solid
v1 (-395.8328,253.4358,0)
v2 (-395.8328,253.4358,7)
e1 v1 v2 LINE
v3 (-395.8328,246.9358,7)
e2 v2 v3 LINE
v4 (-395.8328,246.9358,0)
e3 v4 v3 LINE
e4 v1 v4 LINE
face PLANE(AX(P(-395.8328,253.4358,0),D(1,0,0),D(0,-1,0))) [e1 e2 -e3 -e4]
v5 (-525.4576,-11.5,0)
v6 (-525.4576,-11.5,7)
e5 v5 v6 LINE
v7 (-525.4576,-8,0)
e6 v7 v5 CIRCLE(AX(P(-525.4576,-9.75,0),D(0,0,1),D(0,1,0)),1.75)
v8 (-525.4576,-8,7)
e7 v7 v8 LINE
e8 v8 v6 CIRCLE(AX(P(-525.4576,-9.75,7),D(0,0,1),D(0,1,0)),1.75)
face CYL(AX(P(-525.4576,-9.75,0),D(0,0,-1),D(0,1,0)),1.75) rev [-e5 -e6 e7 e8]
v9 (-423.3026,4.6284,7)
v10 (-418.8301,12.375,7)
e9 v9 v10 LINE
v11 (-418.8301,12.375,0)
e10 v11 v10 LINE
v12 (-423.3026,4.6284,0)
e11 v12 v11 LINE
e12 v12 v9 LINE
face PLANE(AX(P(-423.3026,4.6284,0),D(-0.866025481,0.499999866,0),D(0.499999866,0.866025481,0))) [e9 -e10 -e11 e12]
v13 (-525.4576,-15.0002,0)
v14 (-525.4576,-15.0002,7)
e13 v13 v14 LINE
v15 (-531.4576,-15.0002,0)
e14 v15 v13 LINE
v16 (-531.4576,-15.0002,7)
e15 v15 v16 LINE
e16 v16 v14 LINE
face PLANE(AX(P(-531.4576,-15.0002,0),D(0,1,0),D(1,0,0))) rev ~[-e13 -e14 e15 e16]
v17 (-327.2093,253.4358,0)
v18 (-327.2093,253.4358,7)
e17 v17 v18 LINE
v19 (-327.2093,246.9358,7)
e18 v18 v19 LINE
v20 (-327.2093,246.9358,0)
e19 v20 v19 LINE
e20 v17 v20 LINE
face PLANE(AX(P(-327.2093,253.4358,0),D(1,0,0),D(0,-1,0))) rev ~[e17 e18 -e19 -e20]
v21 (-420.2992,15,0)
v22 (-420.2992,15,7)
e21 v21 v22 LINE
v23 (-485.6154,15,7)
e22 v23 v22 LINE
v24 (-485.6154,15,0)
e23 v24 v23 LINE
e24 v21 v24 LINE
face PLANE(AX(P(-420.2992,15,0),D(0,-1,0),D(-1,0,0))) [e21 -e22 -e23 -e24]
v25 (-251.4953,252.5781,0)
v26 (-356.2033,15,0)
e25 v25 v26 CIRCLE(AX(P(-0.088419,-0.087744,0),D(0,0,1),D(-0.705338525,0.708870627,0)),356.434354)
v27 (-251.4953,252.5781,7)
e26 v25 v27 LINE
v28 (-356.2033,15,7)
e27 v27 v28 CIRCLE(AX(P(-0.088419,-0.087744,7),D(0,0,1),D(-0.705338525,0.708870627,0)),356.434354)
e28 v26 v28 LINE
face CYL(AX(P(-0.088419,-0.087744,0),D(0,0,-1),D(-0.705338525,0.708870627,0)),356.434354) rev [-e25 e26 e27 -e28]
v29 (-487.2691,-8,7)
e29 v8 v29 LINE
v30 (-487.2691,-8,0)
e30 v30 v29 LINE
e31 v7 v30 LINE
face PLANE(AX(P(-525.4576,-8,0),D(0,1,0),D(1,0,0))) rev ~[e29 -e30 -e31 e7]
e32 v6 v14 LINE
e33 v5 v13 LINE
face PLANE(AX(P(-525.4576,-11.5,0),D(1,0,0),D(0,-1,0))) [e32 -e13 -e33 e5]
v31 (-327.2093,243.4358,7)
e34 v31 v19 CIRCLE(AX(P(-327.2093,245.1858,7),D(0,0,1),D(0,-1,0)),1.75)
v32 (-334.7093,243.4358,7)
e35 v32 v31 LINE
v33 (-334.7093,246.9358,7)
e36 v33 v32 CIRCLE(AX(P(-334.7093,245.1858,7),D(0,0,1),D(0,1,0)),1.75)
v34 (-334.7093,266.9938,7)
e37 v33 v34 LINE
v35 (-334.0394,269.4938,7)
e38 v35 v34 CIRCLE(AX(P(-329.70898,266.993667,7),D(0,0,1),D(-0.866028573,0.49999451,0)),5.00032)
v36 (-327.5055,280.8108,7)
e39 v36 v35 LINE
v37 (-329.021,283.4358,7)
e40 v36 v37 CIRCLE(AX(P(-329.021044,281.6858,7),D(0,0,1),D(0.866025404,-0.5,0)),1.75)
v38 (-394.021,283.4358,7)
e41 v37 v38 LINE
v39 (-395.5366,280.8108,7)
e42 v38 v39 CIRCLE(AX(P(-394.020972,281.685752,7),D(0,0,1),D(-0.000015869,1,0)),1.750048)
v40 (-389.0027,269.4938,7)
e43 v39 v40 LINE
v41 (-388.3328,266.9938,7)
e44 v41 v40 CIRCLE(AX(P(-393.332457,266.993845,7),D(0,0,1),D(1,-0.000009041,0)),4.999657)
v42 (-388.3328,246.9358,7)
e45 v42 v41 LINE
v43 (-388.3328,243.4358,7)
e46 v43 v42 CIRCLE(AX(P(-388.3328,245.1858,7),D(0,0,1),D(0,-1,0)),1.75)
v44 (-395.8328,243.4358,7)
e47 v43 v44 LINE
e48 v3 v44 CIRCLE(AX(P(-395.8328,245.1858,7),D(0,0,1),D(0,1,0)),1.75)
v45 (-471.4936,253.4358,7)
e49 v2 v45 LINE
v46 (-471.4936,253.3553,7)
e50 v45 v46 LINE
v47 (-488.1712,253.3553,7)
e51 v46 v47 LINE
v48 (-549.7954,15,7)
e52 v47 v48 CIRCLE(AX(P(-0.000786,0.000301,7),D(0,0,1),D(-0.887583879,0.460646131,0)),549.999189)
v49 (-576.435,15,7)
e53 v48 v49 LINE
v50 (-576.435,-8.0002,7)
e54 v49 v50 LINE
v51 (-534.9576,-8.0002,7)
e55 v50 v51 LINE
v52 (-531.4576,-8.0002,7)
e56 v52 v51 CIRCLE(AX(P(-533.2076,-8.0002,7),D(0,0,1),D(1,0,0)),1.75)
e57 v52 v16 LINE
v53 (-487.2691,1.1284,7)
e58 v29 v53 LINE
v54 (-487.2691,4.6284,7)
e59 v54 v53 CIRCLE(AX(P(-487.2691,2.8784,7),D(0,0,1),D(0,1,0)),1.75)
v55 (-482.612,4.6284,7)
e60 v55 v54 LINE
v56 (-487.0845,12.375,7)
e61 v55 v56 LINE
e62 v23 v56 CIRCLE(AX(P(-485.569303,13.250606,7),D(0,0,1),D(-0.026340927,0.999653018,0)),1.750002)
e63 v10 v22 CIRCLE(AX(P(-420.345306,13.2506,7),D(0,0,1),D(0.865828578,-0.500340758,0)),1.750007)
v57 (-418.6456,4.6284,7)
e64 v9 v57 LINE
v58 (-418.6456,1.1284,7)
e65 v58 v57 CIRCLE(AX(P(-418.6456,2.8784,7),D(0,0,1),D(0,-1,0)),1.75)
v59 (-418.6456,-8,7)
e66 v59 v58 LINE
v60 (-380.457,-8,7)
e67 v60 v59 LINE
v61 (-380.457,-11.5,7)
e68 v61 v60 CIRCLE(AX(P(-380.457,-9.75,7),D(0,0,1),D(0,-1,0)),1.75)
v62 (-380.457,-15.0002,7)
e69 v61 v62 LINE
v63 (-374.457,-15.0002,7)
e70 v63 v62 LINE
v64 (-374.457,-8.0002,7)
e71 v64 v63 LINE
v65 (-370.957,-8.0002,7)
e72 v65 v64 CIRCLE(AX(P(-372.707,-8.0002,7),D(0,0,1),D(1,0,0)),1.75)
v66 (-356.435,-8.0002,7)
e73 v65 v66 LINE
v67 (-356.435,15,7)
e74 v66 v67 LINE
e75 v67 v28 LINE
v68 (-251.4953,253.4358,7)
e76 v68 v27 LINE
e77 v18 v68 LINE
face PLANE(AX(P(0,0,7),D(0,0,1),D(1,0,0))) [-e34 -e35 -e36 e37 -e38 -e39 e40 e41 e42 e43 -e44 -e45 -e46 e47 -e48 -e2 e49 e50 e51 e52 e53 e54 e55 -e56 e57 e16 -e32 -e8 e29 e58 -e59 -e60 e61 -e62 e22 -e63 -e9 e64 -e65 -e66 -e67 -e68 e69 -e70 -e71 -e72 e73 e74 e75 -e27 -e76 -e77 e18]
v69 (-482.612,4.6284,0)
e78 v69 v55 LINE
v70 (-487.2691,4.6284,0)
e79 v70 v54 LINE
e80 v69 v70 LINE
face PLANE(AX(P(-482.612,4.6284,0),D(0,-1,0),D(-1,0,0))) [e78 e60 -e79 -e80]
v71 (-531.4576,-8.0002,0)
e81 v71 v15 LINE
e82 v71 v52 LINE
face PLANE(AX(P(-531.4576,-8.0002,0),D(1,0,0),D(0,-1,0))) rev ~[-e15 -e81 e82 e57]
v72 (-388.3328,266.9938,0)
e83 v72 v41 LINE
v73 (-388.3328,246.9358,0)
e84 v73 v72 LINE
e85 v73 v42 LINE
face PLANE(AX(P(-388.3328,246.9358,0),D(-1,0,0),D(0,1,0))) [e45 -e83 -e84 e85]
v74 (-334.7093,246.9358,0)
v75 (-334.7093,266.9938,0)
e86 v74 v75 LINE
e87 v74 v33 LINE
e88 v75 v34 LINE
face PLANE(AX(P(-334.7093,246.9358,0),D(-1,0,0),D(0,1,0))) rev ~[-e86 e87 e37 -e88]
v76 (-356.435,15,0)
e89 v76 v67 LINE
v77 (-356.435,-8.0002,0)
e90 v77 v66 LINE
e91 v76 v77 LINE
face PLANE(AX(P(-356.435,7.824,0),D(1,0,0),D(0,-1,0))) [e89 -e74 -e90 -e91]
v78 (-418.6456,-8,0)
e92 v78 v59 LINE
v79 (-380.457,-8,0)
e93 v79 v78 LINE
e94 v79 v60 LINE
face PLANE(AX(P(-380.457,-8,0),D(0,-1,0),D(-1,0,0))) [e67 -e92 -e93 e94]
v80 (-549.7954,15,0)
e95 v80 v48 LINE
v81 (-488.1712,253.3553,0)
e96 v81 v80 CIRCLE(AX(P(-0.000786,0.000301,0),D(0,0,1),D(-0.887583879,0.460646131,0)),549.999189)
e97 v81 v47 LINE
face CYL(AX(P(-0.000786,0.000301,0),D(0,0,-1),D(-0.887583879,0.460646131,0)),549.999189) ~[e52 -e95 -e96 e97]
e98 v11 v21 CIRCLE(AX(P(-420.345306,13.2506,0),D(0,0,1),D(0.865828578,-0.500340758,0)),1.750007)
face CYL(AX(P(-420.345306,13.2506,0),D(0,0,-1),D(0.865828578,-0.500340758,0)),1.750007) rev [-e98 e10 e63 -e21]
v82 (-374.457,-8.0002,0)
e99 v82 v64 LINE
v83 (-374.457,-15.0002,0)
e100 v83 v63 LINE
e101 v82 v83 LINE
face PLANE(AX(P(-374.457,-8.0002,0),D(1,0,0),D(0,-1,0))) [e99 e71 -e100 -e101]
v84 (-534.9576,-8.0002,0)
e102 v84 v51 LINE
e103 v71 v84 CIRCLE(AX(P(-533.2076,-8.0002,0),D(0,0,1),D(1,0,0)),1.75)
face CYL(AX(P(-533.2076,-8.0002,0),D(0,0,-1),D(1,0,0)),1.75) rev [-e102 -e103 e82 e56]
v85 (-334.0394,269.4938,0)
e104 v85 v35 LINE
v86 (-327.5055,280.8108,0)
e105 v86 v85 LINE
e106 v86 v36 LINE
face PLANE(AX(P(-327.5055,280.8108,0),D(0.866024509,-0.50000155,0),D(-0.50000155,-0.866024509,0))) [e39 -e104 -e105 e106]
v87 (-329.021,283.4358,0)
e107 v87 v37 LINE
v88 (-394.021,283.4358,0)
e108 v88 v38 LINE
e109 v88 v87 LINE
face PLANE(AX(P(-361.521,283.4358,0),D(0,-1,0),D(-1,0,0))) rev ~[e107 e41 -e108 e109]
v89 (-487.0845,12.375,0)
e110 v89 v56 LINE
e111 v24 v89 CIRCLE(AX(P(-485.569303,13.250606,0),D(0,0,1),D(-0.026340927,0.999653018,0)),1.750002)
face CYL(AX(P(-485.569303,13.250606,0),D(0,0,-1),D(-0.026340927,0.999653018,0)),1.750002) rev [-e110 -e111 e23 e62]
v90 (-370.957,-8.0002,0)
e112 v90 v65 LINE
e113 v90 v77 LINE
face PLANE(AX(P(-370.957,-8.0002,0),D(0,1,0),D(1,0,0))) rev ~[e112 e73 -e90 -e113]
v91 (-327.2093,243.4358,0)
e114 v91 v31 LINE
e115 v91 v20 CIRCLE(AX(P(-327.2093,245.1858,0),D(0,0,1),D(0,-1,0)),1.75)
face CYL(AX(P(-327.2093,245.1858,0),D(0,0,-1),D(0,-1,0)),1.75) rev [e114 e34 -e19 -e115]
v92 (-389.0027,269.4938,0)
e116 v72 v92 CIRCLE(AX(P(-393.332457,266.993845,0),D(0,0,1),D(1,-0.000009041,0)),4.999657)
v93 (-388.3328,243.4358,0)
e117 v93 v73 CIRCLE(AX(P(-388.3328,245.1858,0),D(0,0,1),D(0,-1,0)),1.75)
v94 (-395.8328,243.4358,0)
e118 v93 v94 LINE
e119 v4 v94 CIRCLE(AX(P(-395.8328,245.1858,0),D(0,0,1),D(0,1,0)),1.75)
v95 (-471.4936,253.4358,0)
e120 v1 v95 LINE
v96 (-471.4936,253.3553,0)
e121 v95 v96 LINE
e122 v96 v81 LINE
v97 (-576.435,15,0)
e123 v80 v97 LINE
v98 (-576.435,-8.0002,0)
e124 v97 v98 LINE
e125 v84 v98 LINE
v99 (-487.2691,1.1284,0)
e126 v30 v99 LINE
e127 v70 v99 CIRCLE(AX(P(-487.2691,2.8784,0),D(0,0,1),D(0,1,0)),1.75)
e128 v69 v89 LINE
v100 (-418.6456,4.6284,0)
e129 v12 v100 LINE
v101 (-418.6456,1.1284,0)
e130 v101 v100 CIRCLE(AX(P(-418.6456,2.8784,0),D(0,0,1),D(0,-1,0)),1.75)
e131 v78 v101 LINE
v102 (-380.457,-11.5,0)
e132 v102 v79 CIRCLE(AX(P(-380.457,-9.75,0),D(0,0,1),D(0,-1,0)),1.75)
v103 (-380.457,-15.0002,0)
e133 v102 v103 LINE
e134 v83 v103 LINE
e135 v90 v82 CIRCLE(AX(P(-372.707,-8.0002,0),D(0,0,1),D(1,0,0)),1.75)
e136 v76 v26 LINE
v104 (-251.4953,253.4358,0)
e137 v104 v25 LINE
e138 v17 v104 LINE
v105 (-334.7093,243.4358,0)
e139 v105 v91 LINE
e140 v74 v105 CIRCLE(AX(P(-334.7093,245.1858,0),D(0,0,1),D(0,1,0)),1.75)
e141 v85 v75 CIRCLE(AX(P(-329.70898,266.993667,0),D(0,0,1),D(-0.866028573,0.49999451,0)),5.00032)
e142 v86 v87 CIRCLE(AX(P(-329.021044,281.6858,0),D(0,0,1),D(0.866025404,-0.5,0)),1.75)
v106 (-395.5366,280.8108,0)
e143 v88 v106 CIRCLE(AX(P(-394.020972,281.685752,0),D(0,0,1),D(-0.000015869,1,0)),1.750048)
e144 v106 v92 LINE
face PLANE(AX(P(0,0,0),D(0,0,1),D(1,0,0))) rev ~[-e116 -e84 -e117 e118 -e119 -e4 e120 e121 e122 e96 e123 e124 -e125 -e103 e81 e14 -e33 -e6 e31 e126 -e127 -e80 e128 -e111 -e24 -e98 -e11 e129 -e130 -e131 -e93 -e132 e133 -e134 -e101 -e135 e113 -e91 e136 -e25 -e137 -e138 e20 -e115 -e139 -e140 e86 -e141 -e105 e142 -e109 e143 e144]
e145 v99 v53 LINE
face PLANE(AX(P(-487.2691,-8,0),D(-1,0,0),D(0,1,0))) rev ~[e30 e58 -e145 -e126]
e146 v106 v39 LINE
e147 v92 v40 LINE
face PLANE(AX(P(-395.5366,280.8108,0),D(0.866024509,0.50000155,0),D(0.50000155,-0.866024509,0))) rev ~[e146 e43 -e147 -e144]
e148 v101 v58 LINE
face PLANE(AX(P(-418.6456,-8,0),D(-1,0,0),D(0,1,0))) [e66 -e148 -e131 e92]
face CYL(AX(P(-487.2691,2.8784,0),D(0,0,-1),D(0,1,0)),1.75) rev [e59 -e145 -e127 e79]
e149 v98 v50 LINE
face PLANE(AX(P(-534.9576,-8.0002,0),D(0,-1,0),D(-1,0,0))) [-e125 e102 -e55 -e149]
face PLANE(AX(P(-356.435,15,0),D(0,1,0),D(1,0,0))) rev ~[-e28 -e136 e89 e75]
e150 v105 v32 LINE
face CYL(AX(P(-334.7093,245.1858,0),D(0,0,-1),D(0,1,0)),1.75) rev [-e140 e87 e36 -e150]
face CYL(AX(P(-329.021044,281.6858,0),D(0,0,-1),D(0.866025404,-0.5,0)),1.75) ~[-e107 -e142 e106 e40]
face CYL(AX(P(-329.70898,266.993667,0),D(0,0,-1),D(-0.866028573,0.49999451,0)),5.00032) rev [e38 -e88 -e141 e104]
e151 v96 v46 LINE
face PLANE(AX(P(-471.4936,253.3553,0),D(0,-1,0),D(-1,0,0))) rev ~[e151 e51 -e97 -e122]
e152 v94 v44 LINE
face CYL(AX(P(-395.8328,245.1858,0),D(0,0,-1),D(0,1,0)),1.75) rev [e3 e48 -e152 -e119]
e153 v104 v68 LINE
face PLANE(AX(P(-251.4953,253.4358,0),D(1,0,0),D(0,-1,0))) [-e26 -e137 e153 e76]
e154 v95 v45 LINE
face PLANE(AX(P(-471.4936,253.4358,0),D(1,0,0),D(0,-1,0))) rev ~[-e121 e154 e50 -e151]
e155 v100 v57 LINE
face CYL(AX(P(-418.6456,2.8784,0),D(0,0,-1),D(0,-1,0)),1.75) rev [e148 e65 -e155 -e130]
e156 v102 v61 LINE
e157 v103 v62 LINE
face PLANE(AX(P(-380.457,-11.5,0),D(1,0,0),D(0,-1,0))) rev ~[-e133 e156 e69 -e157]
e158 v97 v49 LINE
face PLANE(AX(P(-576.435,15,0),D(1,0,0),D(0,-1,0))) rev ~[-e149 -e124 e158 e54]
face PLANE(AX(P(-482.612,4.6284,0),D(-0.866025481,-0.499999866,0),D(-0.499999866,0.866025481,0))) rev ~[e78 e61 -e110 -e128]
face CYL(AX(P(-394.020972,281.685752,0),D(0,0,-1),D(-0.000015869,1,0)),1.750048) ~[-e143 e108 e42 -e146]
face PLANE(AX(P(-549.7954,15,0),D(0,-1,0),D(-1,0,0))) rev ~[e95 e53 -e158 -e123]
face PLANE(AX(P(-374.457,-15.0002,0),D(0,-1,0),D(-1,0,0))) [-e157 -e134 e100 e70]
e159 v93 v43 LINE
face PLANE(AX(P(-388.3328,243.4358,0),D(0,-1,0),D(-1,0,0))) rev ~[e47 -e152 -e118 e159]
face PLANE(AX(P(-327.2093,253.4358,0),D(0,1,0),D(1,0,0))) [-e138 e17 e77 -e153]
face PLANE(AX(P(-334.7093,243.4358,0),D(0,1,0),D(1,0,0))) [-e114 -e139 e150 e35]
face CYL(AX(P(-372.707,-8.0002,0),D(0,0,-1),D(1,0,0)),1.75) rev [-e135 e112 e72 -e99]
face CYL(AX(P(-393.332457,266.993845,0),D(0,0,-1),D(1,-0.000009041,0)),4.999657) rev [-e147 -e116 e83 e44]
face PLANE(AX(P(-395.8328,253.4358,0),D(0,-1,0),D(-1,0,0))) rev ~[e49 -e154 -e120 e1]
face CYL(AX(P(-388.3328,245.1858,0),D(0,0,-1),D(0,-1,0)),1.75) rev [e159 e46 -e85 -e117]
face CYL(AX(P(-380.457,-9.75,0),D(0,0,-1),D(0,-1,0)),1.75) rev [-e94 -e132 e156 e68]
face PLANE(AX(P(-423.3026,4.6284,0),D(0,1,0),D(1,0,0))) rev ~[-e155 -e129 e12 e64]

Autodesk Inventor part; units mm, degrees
ref_plane "YZ Plane" through (0, 0, 0) normal (1, 0, 0) x (0, 1, 0)
ref_plane "XZ Plane" through (0, 0, 0) normal (0, 1, 0) x (-1, 0, 0)
ref_plane "XY Plane" through (0, 0, 0) normal (0, 0, 1) x (1, 0, 0)
sketch "Sketch1" plane through (0, 0, 0) normal (0, 0, 1) x (1, 0, 0)
  arc A0 (0, 550) -> (-200, 512.3475) centre (0, 0) ccw construction
  line L0 (-150, -512.4764) -> (-150, -323.4644) construction
  line L1 (-472.3938, -281.6809) -> (-252.3938, -281.6809) construction
  line L2 (-489.0365, 251.6809) -> (-252.3938, 251.6809) construction
  line L3 (-150.0879, 323.2475) -> (-150.0879, 512.2595) construction
  line L4 (-472.3938, 281.6809) -> (-252.3938, 281.6809) construction
  line L5 (-472.3938, -251.6809) -> (-252.3938, -251.6809) construction
  line L6 (-356.435, 15) -> (-576.435, 15) construction
  line L7 (-472.3938, -281.6809) -> (-472.3938, -251.6809) construction
  line L8 (-252.3938, -281.6809) -> (-252.3938, -251.6809) construction
  line L9 (-252.3938, 281.6809) -> (-252.3938, 251.6809) construction
  line L10 (-472.3938, 281.6809) -> (-472.3938, 251.6809) construction
  line L11 (-356.435, 15) -> (-356.435, -15) construction
  line L12 (-356.435, -15) -> (-576.435, -15) construction
  line L13 (-576.435, -15) -> (-576.435, 15) construction
  arc A1 (-0.0879, 356.3469) -> (-150.0879, 323.2475) centre (-0.0879, -0.0881) ccw construction
  arc A2 (-150, -323.4644) -> (-1.4799, -356.5203) centre (-0.0879, -0.0881) ccw construction
  arc A3 (-156.5047, -512.4764) -> (-160, -512.3475) centre (-158.25, -512.3475) ccw construction
  arc A4 (-190, -512.3475) -> (-193.5, -512.3475) centre (-191.75, -512.3475) ccw construction
  line L14 (-178.75, -519.0975) -> (-175, -519.0975) construction
  line L15 (-178.75, -529.0975) -> (-175, -529.0975) construction
  line L16 (-175, -519.0975) -> (-175, -529.0975) construction
  arc A5 (-178.75, -519.0975) -> (-178.75, -522.5975) centre (-178.75, -520.8475) ccw construction
  arc A6 (-178.75, -525.5975) -> (-178.75, -529.0975) centre (-178.75, -527.3475) ccw construction
  line L17 (-171.25, -519.0975) -> (-175, -519.0975) construction
  line L18 (-171.25, -529.0975) -> (-175, -529.0975) construction
  arc A7 (-171.25, -522.5975) -> (-171.25, -519.0975) centre (-171.25, -520.8475) ccw construction
  arc A8 (-171.25, -529.0975) -> (-171.25, -525.5975) centre (-171.25, -527.3475) ccw construction
  line L19 (-252.3938, 251.6809) -> (-489.0365, 251.6809) construction
  arc A9 (-192.6667, 512.3475) -> (-190, 512.3475) centre (-191.3333, 512.3475) ccw construction
  line L20 (-157.3333, 512.3475) -> (-150, 512.3475) construction
  line L21 (-192.6667, 512.3475) -> (-200, 512.3475) construction
  arc A10 (-160, 512.3475) -> (-157.3333, 512.3475) centre (-158.6667, 512.3475) ccw construction
  line L22 (-171.25, 517.8475) -> (-175, 517.8475) construction
  line L23 (-171.25, 520.5142) -> (-171.25, 525.1809) construction
  line L24 (-161.3333, 532.3475) -> (-188.6667, 532.3475) construction
  line L25 (-190, 531.0142) -> (-190, 512.3475) construction
  line L26 (-160, 531.0142) -> (-160, 512.3475) construction
  arc A11 (-160, 531.0142) -> (-161.3333, 532.3475) centre (-161.3333, 531.0142) ccw construction
  arc A12 (-188.6667, 532.3475) -> (-190, 531.0142) centre (-188.6667, 531.0142) ccw construction
  line L27 (-171.25, 527.8475) -> (-175, 527.8475) construction
  line L28 (-175, 532.3475) -> (-175, 535.9358) construction
  line L29 (-175, 517.8475) -> (-175, 527.8475) construction
  arc A13 (-171.25, 517.8475) -> (-171.25, 520.5142) centre (-171.25, 519.1809) ccw construction
  arc A14 (-171.25, 525.1809) -> (-171.25, 527.8475) centre (-171.25, 526.5142) ccw construction
  line L30 (-178.75, 517.8475) -> (-175, 517.8475) construction
  arc A15 (-178.75, 520.5142) -> (-178.75, 517.8475) centre (-178.75, 519.1809) ccw construction
  line L31 (-178.75, 520.5142) -> (-178.75, 525.1809) construction
  arc A16 (-178.75, 527.8475) -> (-178.75, 525.1809) centre (-178.75, 526.5142) ccw construction
  line L32 (-178.75, 527.8475) -> (-175, 527.8475) construction
  arc A17 (-334.9122, -265.623) -> (-335.582, -268.123) centre (-330.582, -268.123) ccw construction
  line L33 (-328.3782, -254.3059) -> (-334.9122, -265.623) construction
  arc A18 (-328.3782, -254.3059) -> (-329.8938, -251.6809) centre (-329.8938, -253.4309) ccw construction
  line L34 (-329.8938, -251.6809) -> (-394.8938, -251.6809) construction
  line L35 (-362.3938, -251.6809) -> (-362.3938, -293.6041) construction
  arc A19 (-389.2055, -268.123) -> (-389.8754, -265.623) centre (-394.2055, -268.123) ccw construction
  arc A20 (-394.8938, -251.6809) -> (-396.4093, -254.3059) centre (-394.8938, -253.4309) ccw construction
  line L36 (-396.4093, -254.3059) -> (-389.8754, -265.623) construction
  arc A21 (-389.2055, -291.6809) -> (-389.2055, -288.1809) centre (-389.2055, -289.9309) ccw construction
  line L37 (-389.2055, -291.6809) -> (-396.7055, -291.6809) construction
  line L38 (-396.7055, -281.6809) -> (-472.3938, -281.6809) construction
  line L39 (-328.082, -281.6809) -> (-252.3938, -281.6809) construction
  line L40 (-252.4816, -287.4356) -> (-210.9842, -287.4356) construction
  arc A22 (-150.0879, 323.2475) -> (-250.6303, 253.4358) centre (-0.0879, -0.0881) ccw construction
  arc A23 (-210.9842, -287.4356) -> (-150, -323.4644) centre (-0.0879, -0.0881) ccw construction
  arc A24 (-200, 512.3475) -> (-491.4496, 246.9358) centre (0, 0) ccw construction
  arc A25 (-472.3938, -281.6809) -> (-246.475, -491.6809) centre (0, 0) ccw construction
  line L41 (-171.25, -436.2204) -> (-171.25, -399.7204) construction
  line L42 (-178.75, -436.2204) -> (-178.75, -399.7204) construction
  line L43 (-177, -437.9704) -> (-173, -437.9704) construction
  line L44 (-177, -397.9704) -> (-173, -397.9704) construction
  arc A26 (-177, -397.9704) -> (-178.75, -399.7204) centre (-177, -399.7204) ccw construction
  arc A27 (-178.75, -436.2204) -> (-177, -437.9704) centre (-177, -436.2204) ccw construction
  arc A28 (-173, -437.9704) -> (-171.25, -436.2204) centre (-173, -436.2204) ccw construction
  arc A29 (-171.25, -399.7204) -> (-173, -397.9704) centre (-173, -399.7204) ccw construction
  line L45 (-200, -512.3475) -> (-200, -491.6809) construction
  arc A30 (-200, -491.6809) -> (-203.5, -491.6809) centre (-201.75, -491.6809) ccw construction
  line L46 (-160, -512.3475) -> (-160, -532.5975) construction
  line L47 (-161.75, -534.3475) -> (-188.25, -534.3475) construction
  line L48 (-190, -532.5975) -> (-190, -512.3475) construction
  line L49 (-171.25, -522.5975) -> (-171.25, -525.5975) construction
  line L50 (-178.75, -522.5975) -> (-178.75, -525.5975) construction
  arc A31 (-190, -532.5975) -> (-188.25, -534.3475) centre (-188.25, -532.5975) ccw construction
  arc A32 (-161.75, -534.3475) -> (-160, -532.5975) centre (-161.75, -532.5975) ccw construction
  line L51 (-156.5047, -512.4764) -> (-150, -512.4764) construction
  line L52 (-193.5, -512.3475) -> (-200, -512.3475) construction
  line L53 (-203.5, -491.6809) -> (-246.475, -491.6809) construction
  arc A33 (-396.7055, -288.1809) -> (-396.7055, -291.6809) centre (-396.7055, -289.9309) ccw construction
  line L54 (-396.7055, -281.6809) -> (-396.7055, -288.1809) construction
  line L55 (-389.2055, -288.1809) -> (-389.2055, -268.123) construction
  arc A34 (-335.582, -288.1809) -> (-335.582, -291.6809) centre (-335.582, -289.9309) ccw construction
  line L56 (-335.582, -291.6809) -> (-328.082, -291.6809) construction
  arc A35 (-328.082, -291.6809) -> (-328.082, -288.1809) centre (-328.082, -289.9309) ccw construction
  line L57 (-328.082, -281.6809) -> (-328.082, -288.1809) construction
  line L58 (-335.582, -288.1809) -> (-335.582, -268.123) construction
  arc A36 (-252.3938, -283.9378) -> (-252.4816, -287.4356) centre (-252.4816, -285.6856) ccw construction
  line L59 (-252.3938, -283.9378) -> (-252.3938, -281.6809) construction
  arc A37 (-479.7691, -25) -> (-479.7691, -21.5) centre (-479.7691, -23.25) ccw construction
  arc A38 (-479.7691, -1.4421) -> (-480.4389, 1.0579) centre (-484.7691, -1.4421) ccw construction
  line L60 (-486.9729, 12.375) -> (-480.4389, 1.0579) construction
  arc A39 (-485.4573, 15) -> (-486.9729, 12.375) centre (-485.4573, 13.25) ccw construction
  line L61 (-420.4573, 15) -> (-485.4573, 15) construction
  arc A40 (-425.4757, 1.0579) -> (-426.1456, -1.4421) centre (-421.1456, -1.4421) ccw construction
  arc A41 (-418.9418, 12.375) -> (-420.4573, 15) centre (-420.4573, 13.25) ccw construction
  line L62 (-418.9418, 12.375) -> (-425.4757, 1.0579) construction
  line L63 (-452.9573, 15) -> (-452.9573, -26.9232) construction
  line L64 (-479.7691, -25) -> (-487.2691, -25) construction
  line L65 (-487.2691, -15) -> (-549.7954, -15) construction
  arc A42 (-487.2691, -21.5) -> (-487.2691, -25) centre (-487.2691, -23.25) ccw construction
  line L66 (-487.2691, -15) -> (-487.2691, -21.5) construction
  line L67 (-479.7691, -21.5) -> (-479.7691, -1.4421) construction
  line L68 (-426.1456, -21.5) -> (-426.1456, -1.4421) construction
  arc A43 (-426.1456, -21.5) -> (-426.1456, -25) centre (-426.1456, -23.25) ccw construction
  line L69 (-426.1456, -25) -> (-418.6456, -25) construction
  arc A44 (-418.6456, -25) -> (-418.6456, -21.5) centre (-418.6456, -23.25) ccw construction
  line L70 (-418.6456, -15) -> (-418.6456, -21.5) construction
  line L71 (276.2049, -135.3556) -> (280.6774, -127.609)
  line L72 (279.2083, -124.984) -> (246.5502, -124.984)
  arc A45 (319.0505, -151.484) -> (319.0505, -147.984) centre (319.0505, -149.734) ccw
  arc A46 (328.5505, -147.9841) -> (325.0505, -147.9841) centre (326.8005, -147.9841) ccw
  line L73 (319.0505, -147.984) -> (280.8619, -147.984)
  arc A47 (214.0502, -164.7817) -> (212.5346, -167.4067) centre (214.0502, -166.5317) ccw
  arc A48 (280.5657, -167.4067) -> (279.0502, -164.7817) centre (279.0502, -166.5317) ccw
  arc A49 (274.0318, -178.7238) -> (273.3619, -181.2238) centre (278.3619, -181.2238) ccw
  line L74 (280.5657, -167.4067) -> (274.0318, -178.7238)
  line L75 (273.3619, -201.2817) -> (273.3619, -181.2238)
  arc A50 (273.3619, -201.2817) -> (273.3619, -204.7817) centre (273.3619, -203.0317) ccw
  line L76 (273.3619, -204.7817) -> (280.8619, -204.7817)
  arc A51 (280.8619, -204.7817) -> (280.8619, -201.2817) centre (280.8619, -203.0317) ccw
  line L77 (280.8619, -194.7817) -> (280.8619, -201.2817)
  line L78 (212.2384, -194.7817) -> (212.2384, -201.2817)
  arc A52 (212.2384, -201.2817) -> (212.2384, -204.7817) centre (212.2384, -203.0317) ccw
  arc A53 (219.7384, -204.7817) -> (219.7384, -201.2817) centre (219.7384, -203.0317) ccw
  line L79 (279.0502, -164.7817) -> (214.0502, -164.7817)
  line L80 (219.7384, -201.2817) -> (219.7384, -181.2238)
  line L81 (219.7384, -204.7817) -> (212.2384, -204.7817)
  arc A54 (219.7384, -181.2238) -> (219.0686, -178.7238) centre (214.7384, -181.2238) ccw
  line L82 (212.5346, -167.4067) -> (219.0686, -178.7238)
  line L83 (212.2384, -194.7817) -> (136.5502, -194.7817)
  line L84 (280.8619, -194.7817) -> (356.5502, -194.7817)
  line L85 (325.0505, -147.9841) -> (325.0505, -154.9841)
  line L86 (325.0505, -154.9841) -> (319.0505, -154.9841)
  line L87 (319.0505, -151.484) -> (319.0505, -154.9841)
  line L88 (246.5502, -124.984) -> (246.5502, -110.6064)
  arc A55 (280.6774, -127.609) -> (279.2083, -124.984) centre (279.1622, -126.7334) ccw
  arc A56 (280.8619, -138.8556) -> (280.8619, -135.3556) centre (280.8619, -137.1056) ccw
  line L89 (276.2049, -135.3556) -> (280.8619, -135.3556)
  line L90 (246.5502, -164.7817) -> (246.5502, -170.2759)
  line L91 (280.8619, -147.984) -> (280.8619, -138.8556)
  arc A57 (168.0499, -147.9841) -> (164.5499, -147.9841) centre (166.2999, -147.9841) ccw
  arc A58 (174.0499, -147.984) -> (174.0499, -151.484) centre (174.0499, -149.734) ccw
  line L92 (213.8921, -124.984) -> (246.5502, -124.984)
  line L93 (174.0499, -147.984) -> (212.2384, -147.984)
  line L94 (216.8955, -135.3556) -> (212.423, -127.609)
  line L95 (168.0499, -147.9841) -> (168.0499, -154.9841)
  line L96 (168.0499, -154.9841) -> (174.0499, -154.9841)
  line L97 (174.0499, -151.484) -> (174.0499, -154.9841)
  arc A59 (213.8921, -124.984) -> (212.423, -127.609) centre (213.9382, -126.7334) ccw
  arc A60 (212.2384, -135.3556) -> (212.2384, -138.8556) centre (212.2384, -137.1056) ccw
  line L98 (216.8955, -135.3556) -> (212.2384, -135.3556)
  line L99 (212.2384, -147.984) -> (212.2384, -138.8556)
  arc A61 (-280.4036, -274.8689) -> (-283.8935, -274.681) centre (-282.1435, -274.681) ccw construction
  arc A62 (-289.8935, -278.1809) -> (-289.8935, -274.6809) centre (-289.8935, -276.4309) ccw construction
  line L100 (-329.7357, -251.6809) -> (-362.3938, -251.6809) construction
  line L101 (-289.8935, -274.6809) -> (-328.082, -274.6809) construction
  line L102 (-332.7391, -262.0525) -> (-328.2666, -254.3059) construction
  line L103 (-283.8935, -274.681) -> (-283.8935, -281.681) construction
  line L104 (-283.8935, -281.681) -> (-289.8935, -281.681) construction
  line L105 (-289.8935, -278.1809) -> (-289.8935, -281.681) construction
  arc A63 (-328.2666, -254.3059) -> (-329.7357, -251.6809) centre (-329.7818, -253.4303) ccw construction
  arc A64 (-328.082, -265.5525) -> (-328.082, -262.0525) centre (-328.082, -263.8025) ccw construction
  line L106 (-332.7391, -262.0525) -> (-328.082, -262.0525) construction
  line L107 (-328.082, -274.6809) -> (-328.082, -265.5525) construction
  line L108 (-392.0485, -262.0525) -> (-396.7055, -262.0525) construction
  arc A65 (-396.7055, -262.0525) -> (-396.7055, -265.5525) centre (-396.7055, -263.8025) ccw construction
  line L109 (-392.0485, -262.0525) -> (-396.521, -254.3059) construction
  arc A66 (-395.0519, -251.6809) -> (-396.521, -254.3059) centre (-395.0058, -253.4303) ccw construction
  line L110 (-396.7055, -274.6809) -> (-396.7055, -265.5525) construction
  line L111 (-434.8941, -278.1809) -> (-434.8941, -281.681) construction
  line L112 (-434.8941, -274.6809) -> (-396.7055, -274.6809) construction
  arc A67 (-434.8941, -274.6809) -> (-434.8941, -278.1809) centre (-434.8941, -276.4309) ccw construction
  line L113 (-440.8941, -281.681) -> (-434.8941, -281.681) construction
  line L114 (-440.8941, -274.681) -> (-440.8941, -281.681) construction
  arc A68 (-440.8941, -274.681) -> (-444.3912, -274.7808) centre (-442.6441, -274.681) ccw construction
  line L115 (-395.0519, -251.6809) -> (-362.3938, -251.6809) construction
  line L116 (-444.3912, -274.7808) -> (-476.4404, -274.7808) construction
  arc A69 (-355.8791, -21.5) -> (-227.1151, -274.8689) centre (-0.0879, -0.0881) ccw construction
  arc A70 (-549.7954, -15) -> (-476.4404, -274.7808) centre (0, 0) ccw construction
  line L117 (-280.4036, -274.8689) -> (-227.1151, -274.8689) construction
  line L118 (-364.1192, -15) -> (-364.1192, -18) construction
  arc A71 (-364.1192, -18) -> (-364.1192, -21.5) centre (-364.1192, -19.75) ccw construction
  line L119 (-364.1192, -21.5) -> (-355.8791, -21.5) construction
  line L120 (-356.1192, -15) -> (-356.435, -15) construction
  line L121 (-364.1192, -15) -> (-549.7954, -15) construction
  line L122 (-418.6456, -15) -> (-364.1192, -15) construction
  arc A72 (-370.957, -8.0002) -> (-374.457, -8.0002) centre (-372.707, -8.0002) ccw
  arc A73 (-380.457, -11.5) -> (-380.457, -8) centre (-380.457, -9.75) ccw
  line L123 (-420.2992, 15) -> (-452.9573, 15)
  line L124 (-380.457, -8) -> (-418.6456, -8)
  line L125 (-423.3026, 4.6284) -> (-418.8301, 12.375)
  line L126 (-374.457, -8.0002) -> (-374.457, -15.0002)
  line L127 (-374.457, -15.0002) -> (-380.457, -15.0002)
  line L128 (-380.457, -11.5) -> (-380.457, -15.0002)
  line L129 (-452.9573, 15) -> (-452.9573, 29.3776)
  arc A74 (-418.8301, 12.375) -> (-420.2992, 15) centre (-420.3453, 13.2506) ccw
  arc A75 (-418.6456, 1.1284) -> (-418.6456, 4.6284) centre (-418.6456, 2.8784) ccw
  line L130 (-423.3026, 4.6284) -> (-418.6456, 4.6284)
  line L131 (-418.6456, -8) -> (-418.6456, 1.1284)
  line L132 (-482.612, 4.6284) -> (-487.2691, 4.6284)
  arc A76 (-487.2691, 4.6284) -> (-487.2691, 1.1284) centre (-487.2691, 2.8784) ccw
  line L133 (-482.612, 4.6284) -> (-487.0845, 12.375)
  arc A77 (-485.6154, 15) -> (-487.0845, 12.375) centre (-485.5693, 13.2506) ccw
  line L134 (-487.2691, -8) -> (-487.2691, 1.1284)
  line L135 (-525.4576, -11.5) -> (-525.4576, -15.0002)
  line L136 (-525.4576, -8) -> (-487.2691, -8)
  arc A78 (-525.4576, -8) -> (-525.4576, -11.5) centre (-525.4576, -9.75) ccw
  line L137 (-531.4576, -15.0002) -> (-525.4576, -15.0002)
  line L138 (-531.4576, -8.0002) -> (-531.4576, -15.0002)
  arc A79 (-531.4576, -8.0002) -> (-534.9576, -8.0002) centre (-533.2076, -8.0002) ccw
  line L139 (-485.6154, 15) -> (-452.9573, 15)
  line L140 (-370.957, -8.0002) -> (-356.435, -8.0002)
  line L141 (-534.9576, -8.0002) -> (-549.9418, -8.0002)
  line L142 (-395.8328, 253.4358) -> (-471.4936, 253.4358)
  arc A80 (-488.1712, 253.3553) -> (-549.7954, 15) centre (0, 0) ccw
  line L143 (-549.7954, 15) -> (-576.435, 15)
  line L144 (-576.435, 15) -> (-576.435, -8.0002)
  line L145 (-549.9418, -8.0002) -> (-576.435, -8.0002)
  line L146 (-356.435, 15) -> (-356.435, -8.0002)
  line L147 (-356.435, 15) -> (-356.2033, 15)
  arc A81 (-251.4953, 252.5781) -> (-356.2033, 15) centre (-0.0879, -0.0881) ccw
  arc A82 (-356.435, 7.824) -> (-356.435, -8.0002) centre (-0.0879, -0.0881) ccw
  arc A83 (-250.6303, 253.4358) -> (-251.4953, 252.5781) centre (-0.0879, -0.0881) ccw
  line L148 (-327.2093, 253.4358) -> (-327.2093, 246.9358)
  arc A84 (-327.2093, 243.4358) -> (-327.2093, 246.9358) centre (-327.2093, 245.1858) ccw
  line L149 (-395.8328, 253.4358) -> (-395.8328, 246.9358)
  arc A85 (-395.8328, 246.9358) -> (-395.8328, 243.4358) centre (-395.8328, 245.1858) ccw
  arc A86 (-388.3328, 243.4358) -> (-388.3328, 246.9358) centre (-388.3328, 245.1858) ccw
  line L150 (-388.3328, 246.9358) -> (-388.3328, 266.9938)
  line L151 (-388.3328, 243.4358) -> (-395.8328, 243.4358)
  arc A87 (-388.3328, 266.9938) -> (-389.0027, 269.4938) centre (-393.3328, 266.9938) ccw
  line L152 (-395.5366, 280.8108) -> (-389.0027, 269.4938)
  arc A88 (-394.021, 283.4358) -> (-395.5366, 280.8108) centre (-394.021, 281.6858) ccw
  line L153 (-329.021, 283.4358) -> (-394.021, 283.4358)
  arc A89 (-334.0394, 269.4938) -> (-334.7093, 266.9938) centre (-329.7093, 266.9938) ccw
  arc A90 (-327.5055, 280.8108) -> (-329.021, 283.4358) centre (-329.021, 281.6858) ccw
  line L154 (-327.5055, 280.8108) -> (-334.0394, 269.4938)
  arc A91 (-334.7093, 246.9358) -> (-334.7093, 243.4358) centre (-334.7093, 245.1858) ccw
  line L155 (-334.7093, 243.4358) -> (-327.2093, 243.4358)
  line L156 (-334.7093, 246.9358) -> (-334.7093, 266.9938)
  line L157 (-361.521, 283.4358) -> (-361.521, 277.9417)
  line L158 (-327.2093, 253.4358) -> (-250.6303, 253.4358)
  line L159 (-251.4953, 253.4358) -> (-251.4953, 252.5781)
  line L160 (-471.4936, 253.3553) -> (-488.1712, 253.3553)
  line L161 (-471.4936, 253.4358) -> (-471.4936, 253.3553)
  line L162 (-471.4936, 251.6809) -> (-471.4936, 250.4358)
  point P0 (0, 512.3475)
  point P1 (0, -512.3475)
  point P2 (0, 0)
  point P3 (-190, -534.3475)
  point P4 (-160, -534.3475)
  point P5 (-59.9119, -534.1417)
  point P6 (-160, 532.3475)
  point P7 (-190, 532.3475)
  point P8 (-389.2055, -259.0142)
  point P9 (-479.7691, 7.6667)
  point P10 (328.5476, -148.0839)
  point P11 (328.0311, -152.0673)
  point P12 (329.3645, -149.3173)
  point P13 (219.7384, -172.1151)
  point P14 (164.5527, -148.0839)
  point P15 (165.0692, -152.0673)
  point P16 (163.7359, -149.3173)
  point P17 (-280.9128, -278.7642)
  point P18 (-279.5795, -276.0142)
  point P19 (-443.8747, -278.7642)
  point P20 (-445.2081, -276.0142)
  point P21 (-370.9599, -8.1)
  point P22 (-371.4764, -12.0833)
  point P23 (-370.143, -9.3333)
  point P24 (-534.4382, -12.0833)
  point P25 (-534.9548, -8.1)
  point P26 (-535.7716, -9.3333)
  point P27 (-388.3328, 276.1025)
  dimension "d13" = 550
  dimension "d17" = 200
  dimension "d18" = 0
  dimension "d19" = 150
  dimension "d54" = 220
  dimension "d56" = 220
  dimension "d57" = 30
  dimension "d73" = 236.6809
  dimension "d74" = 236.6809
  dimension "d75" = 576.435
  dimension "d76" = 472.3938
  dimension "d77" = 472.3938
  dimension "d78" = 30
  dimension "d81" = 220
  dimension "d82" = 252.3938
  dimension "d85" = 356.435
  dimension "d88" = 3.5
  dimension "d89" = 30
  dimension "d90" = 22
  dimension "d91" = 3.5
  dimension "d103" = 3.75
  dimension "d104" = 3.75
  dimension "d105" = 2.6667
  dimension "d106" = 30
  dimension "d107" = 20
  dimension "d108" = 2.6667
  dimension "d109" = 1.3333
  dimension "d110" = 7.3333
  dimension "d111" = 7.3333
  dimension "d112" = 7.5
  dimension "d113" = 3.75
  dimension "d114" = 3.75
  dimension "d134" = 3.5
  dimension "d135" = 65
  dimension "d136" = 65
  dimension "d137" = 7.3333
  dimension "d138" = 60
  dimension "d139" = 5
  dimension "d140" = 7.5
  dimension "d148" = 1.75
  dimension "d151" = 40
  dimension "d152" = 74.506
  dimension "d153" = 20.6667
  dimension "d154" = 3.5
  dimension "d155" = 189.012
  dimension "d159" = 1.75
  dimension "d160" = 1.75
  dimension "d161" = 1.75
  dimension "d164" = 7.5
  dimension "d168" = 21.25
  dimension "d170" = 30
  dimension "d171" = 1.75
  dimension "d172" = 10
  dimension "d173" = 3.5
  dimension "d177" = 3.5
  dimension "d178" = 65
  dimension "d179" = 65
  dimension "d180" = 7.3333
  dimension "d181" = 60
  dimension "d182" = 5
  dimension "d183" = 7.5
  dimension "d185" = 1.75
  dimension "d186" = 10
  dimension "d192" = 1.75
extrude "Extrusion3" add sketch "Sketch1" along normal blind 7 contours A72 L126 L127 L128 A73 L124 L131 A75 L130 L125 A74 L123 L139 A77 L133 L132 A76 L134 L136 A78 L135 L137 L138 A79 L141 L145 L144 L143 A80 L160 L161 L142 L149 A85 L151 A86 L150 A87 L152 A88 L153 A90 L154 A89 L156 A91 L155 A84 L148 L158 L159 A81 L147 L146 A82 L140 | A82 L146
properties part number "Support C - V2"
